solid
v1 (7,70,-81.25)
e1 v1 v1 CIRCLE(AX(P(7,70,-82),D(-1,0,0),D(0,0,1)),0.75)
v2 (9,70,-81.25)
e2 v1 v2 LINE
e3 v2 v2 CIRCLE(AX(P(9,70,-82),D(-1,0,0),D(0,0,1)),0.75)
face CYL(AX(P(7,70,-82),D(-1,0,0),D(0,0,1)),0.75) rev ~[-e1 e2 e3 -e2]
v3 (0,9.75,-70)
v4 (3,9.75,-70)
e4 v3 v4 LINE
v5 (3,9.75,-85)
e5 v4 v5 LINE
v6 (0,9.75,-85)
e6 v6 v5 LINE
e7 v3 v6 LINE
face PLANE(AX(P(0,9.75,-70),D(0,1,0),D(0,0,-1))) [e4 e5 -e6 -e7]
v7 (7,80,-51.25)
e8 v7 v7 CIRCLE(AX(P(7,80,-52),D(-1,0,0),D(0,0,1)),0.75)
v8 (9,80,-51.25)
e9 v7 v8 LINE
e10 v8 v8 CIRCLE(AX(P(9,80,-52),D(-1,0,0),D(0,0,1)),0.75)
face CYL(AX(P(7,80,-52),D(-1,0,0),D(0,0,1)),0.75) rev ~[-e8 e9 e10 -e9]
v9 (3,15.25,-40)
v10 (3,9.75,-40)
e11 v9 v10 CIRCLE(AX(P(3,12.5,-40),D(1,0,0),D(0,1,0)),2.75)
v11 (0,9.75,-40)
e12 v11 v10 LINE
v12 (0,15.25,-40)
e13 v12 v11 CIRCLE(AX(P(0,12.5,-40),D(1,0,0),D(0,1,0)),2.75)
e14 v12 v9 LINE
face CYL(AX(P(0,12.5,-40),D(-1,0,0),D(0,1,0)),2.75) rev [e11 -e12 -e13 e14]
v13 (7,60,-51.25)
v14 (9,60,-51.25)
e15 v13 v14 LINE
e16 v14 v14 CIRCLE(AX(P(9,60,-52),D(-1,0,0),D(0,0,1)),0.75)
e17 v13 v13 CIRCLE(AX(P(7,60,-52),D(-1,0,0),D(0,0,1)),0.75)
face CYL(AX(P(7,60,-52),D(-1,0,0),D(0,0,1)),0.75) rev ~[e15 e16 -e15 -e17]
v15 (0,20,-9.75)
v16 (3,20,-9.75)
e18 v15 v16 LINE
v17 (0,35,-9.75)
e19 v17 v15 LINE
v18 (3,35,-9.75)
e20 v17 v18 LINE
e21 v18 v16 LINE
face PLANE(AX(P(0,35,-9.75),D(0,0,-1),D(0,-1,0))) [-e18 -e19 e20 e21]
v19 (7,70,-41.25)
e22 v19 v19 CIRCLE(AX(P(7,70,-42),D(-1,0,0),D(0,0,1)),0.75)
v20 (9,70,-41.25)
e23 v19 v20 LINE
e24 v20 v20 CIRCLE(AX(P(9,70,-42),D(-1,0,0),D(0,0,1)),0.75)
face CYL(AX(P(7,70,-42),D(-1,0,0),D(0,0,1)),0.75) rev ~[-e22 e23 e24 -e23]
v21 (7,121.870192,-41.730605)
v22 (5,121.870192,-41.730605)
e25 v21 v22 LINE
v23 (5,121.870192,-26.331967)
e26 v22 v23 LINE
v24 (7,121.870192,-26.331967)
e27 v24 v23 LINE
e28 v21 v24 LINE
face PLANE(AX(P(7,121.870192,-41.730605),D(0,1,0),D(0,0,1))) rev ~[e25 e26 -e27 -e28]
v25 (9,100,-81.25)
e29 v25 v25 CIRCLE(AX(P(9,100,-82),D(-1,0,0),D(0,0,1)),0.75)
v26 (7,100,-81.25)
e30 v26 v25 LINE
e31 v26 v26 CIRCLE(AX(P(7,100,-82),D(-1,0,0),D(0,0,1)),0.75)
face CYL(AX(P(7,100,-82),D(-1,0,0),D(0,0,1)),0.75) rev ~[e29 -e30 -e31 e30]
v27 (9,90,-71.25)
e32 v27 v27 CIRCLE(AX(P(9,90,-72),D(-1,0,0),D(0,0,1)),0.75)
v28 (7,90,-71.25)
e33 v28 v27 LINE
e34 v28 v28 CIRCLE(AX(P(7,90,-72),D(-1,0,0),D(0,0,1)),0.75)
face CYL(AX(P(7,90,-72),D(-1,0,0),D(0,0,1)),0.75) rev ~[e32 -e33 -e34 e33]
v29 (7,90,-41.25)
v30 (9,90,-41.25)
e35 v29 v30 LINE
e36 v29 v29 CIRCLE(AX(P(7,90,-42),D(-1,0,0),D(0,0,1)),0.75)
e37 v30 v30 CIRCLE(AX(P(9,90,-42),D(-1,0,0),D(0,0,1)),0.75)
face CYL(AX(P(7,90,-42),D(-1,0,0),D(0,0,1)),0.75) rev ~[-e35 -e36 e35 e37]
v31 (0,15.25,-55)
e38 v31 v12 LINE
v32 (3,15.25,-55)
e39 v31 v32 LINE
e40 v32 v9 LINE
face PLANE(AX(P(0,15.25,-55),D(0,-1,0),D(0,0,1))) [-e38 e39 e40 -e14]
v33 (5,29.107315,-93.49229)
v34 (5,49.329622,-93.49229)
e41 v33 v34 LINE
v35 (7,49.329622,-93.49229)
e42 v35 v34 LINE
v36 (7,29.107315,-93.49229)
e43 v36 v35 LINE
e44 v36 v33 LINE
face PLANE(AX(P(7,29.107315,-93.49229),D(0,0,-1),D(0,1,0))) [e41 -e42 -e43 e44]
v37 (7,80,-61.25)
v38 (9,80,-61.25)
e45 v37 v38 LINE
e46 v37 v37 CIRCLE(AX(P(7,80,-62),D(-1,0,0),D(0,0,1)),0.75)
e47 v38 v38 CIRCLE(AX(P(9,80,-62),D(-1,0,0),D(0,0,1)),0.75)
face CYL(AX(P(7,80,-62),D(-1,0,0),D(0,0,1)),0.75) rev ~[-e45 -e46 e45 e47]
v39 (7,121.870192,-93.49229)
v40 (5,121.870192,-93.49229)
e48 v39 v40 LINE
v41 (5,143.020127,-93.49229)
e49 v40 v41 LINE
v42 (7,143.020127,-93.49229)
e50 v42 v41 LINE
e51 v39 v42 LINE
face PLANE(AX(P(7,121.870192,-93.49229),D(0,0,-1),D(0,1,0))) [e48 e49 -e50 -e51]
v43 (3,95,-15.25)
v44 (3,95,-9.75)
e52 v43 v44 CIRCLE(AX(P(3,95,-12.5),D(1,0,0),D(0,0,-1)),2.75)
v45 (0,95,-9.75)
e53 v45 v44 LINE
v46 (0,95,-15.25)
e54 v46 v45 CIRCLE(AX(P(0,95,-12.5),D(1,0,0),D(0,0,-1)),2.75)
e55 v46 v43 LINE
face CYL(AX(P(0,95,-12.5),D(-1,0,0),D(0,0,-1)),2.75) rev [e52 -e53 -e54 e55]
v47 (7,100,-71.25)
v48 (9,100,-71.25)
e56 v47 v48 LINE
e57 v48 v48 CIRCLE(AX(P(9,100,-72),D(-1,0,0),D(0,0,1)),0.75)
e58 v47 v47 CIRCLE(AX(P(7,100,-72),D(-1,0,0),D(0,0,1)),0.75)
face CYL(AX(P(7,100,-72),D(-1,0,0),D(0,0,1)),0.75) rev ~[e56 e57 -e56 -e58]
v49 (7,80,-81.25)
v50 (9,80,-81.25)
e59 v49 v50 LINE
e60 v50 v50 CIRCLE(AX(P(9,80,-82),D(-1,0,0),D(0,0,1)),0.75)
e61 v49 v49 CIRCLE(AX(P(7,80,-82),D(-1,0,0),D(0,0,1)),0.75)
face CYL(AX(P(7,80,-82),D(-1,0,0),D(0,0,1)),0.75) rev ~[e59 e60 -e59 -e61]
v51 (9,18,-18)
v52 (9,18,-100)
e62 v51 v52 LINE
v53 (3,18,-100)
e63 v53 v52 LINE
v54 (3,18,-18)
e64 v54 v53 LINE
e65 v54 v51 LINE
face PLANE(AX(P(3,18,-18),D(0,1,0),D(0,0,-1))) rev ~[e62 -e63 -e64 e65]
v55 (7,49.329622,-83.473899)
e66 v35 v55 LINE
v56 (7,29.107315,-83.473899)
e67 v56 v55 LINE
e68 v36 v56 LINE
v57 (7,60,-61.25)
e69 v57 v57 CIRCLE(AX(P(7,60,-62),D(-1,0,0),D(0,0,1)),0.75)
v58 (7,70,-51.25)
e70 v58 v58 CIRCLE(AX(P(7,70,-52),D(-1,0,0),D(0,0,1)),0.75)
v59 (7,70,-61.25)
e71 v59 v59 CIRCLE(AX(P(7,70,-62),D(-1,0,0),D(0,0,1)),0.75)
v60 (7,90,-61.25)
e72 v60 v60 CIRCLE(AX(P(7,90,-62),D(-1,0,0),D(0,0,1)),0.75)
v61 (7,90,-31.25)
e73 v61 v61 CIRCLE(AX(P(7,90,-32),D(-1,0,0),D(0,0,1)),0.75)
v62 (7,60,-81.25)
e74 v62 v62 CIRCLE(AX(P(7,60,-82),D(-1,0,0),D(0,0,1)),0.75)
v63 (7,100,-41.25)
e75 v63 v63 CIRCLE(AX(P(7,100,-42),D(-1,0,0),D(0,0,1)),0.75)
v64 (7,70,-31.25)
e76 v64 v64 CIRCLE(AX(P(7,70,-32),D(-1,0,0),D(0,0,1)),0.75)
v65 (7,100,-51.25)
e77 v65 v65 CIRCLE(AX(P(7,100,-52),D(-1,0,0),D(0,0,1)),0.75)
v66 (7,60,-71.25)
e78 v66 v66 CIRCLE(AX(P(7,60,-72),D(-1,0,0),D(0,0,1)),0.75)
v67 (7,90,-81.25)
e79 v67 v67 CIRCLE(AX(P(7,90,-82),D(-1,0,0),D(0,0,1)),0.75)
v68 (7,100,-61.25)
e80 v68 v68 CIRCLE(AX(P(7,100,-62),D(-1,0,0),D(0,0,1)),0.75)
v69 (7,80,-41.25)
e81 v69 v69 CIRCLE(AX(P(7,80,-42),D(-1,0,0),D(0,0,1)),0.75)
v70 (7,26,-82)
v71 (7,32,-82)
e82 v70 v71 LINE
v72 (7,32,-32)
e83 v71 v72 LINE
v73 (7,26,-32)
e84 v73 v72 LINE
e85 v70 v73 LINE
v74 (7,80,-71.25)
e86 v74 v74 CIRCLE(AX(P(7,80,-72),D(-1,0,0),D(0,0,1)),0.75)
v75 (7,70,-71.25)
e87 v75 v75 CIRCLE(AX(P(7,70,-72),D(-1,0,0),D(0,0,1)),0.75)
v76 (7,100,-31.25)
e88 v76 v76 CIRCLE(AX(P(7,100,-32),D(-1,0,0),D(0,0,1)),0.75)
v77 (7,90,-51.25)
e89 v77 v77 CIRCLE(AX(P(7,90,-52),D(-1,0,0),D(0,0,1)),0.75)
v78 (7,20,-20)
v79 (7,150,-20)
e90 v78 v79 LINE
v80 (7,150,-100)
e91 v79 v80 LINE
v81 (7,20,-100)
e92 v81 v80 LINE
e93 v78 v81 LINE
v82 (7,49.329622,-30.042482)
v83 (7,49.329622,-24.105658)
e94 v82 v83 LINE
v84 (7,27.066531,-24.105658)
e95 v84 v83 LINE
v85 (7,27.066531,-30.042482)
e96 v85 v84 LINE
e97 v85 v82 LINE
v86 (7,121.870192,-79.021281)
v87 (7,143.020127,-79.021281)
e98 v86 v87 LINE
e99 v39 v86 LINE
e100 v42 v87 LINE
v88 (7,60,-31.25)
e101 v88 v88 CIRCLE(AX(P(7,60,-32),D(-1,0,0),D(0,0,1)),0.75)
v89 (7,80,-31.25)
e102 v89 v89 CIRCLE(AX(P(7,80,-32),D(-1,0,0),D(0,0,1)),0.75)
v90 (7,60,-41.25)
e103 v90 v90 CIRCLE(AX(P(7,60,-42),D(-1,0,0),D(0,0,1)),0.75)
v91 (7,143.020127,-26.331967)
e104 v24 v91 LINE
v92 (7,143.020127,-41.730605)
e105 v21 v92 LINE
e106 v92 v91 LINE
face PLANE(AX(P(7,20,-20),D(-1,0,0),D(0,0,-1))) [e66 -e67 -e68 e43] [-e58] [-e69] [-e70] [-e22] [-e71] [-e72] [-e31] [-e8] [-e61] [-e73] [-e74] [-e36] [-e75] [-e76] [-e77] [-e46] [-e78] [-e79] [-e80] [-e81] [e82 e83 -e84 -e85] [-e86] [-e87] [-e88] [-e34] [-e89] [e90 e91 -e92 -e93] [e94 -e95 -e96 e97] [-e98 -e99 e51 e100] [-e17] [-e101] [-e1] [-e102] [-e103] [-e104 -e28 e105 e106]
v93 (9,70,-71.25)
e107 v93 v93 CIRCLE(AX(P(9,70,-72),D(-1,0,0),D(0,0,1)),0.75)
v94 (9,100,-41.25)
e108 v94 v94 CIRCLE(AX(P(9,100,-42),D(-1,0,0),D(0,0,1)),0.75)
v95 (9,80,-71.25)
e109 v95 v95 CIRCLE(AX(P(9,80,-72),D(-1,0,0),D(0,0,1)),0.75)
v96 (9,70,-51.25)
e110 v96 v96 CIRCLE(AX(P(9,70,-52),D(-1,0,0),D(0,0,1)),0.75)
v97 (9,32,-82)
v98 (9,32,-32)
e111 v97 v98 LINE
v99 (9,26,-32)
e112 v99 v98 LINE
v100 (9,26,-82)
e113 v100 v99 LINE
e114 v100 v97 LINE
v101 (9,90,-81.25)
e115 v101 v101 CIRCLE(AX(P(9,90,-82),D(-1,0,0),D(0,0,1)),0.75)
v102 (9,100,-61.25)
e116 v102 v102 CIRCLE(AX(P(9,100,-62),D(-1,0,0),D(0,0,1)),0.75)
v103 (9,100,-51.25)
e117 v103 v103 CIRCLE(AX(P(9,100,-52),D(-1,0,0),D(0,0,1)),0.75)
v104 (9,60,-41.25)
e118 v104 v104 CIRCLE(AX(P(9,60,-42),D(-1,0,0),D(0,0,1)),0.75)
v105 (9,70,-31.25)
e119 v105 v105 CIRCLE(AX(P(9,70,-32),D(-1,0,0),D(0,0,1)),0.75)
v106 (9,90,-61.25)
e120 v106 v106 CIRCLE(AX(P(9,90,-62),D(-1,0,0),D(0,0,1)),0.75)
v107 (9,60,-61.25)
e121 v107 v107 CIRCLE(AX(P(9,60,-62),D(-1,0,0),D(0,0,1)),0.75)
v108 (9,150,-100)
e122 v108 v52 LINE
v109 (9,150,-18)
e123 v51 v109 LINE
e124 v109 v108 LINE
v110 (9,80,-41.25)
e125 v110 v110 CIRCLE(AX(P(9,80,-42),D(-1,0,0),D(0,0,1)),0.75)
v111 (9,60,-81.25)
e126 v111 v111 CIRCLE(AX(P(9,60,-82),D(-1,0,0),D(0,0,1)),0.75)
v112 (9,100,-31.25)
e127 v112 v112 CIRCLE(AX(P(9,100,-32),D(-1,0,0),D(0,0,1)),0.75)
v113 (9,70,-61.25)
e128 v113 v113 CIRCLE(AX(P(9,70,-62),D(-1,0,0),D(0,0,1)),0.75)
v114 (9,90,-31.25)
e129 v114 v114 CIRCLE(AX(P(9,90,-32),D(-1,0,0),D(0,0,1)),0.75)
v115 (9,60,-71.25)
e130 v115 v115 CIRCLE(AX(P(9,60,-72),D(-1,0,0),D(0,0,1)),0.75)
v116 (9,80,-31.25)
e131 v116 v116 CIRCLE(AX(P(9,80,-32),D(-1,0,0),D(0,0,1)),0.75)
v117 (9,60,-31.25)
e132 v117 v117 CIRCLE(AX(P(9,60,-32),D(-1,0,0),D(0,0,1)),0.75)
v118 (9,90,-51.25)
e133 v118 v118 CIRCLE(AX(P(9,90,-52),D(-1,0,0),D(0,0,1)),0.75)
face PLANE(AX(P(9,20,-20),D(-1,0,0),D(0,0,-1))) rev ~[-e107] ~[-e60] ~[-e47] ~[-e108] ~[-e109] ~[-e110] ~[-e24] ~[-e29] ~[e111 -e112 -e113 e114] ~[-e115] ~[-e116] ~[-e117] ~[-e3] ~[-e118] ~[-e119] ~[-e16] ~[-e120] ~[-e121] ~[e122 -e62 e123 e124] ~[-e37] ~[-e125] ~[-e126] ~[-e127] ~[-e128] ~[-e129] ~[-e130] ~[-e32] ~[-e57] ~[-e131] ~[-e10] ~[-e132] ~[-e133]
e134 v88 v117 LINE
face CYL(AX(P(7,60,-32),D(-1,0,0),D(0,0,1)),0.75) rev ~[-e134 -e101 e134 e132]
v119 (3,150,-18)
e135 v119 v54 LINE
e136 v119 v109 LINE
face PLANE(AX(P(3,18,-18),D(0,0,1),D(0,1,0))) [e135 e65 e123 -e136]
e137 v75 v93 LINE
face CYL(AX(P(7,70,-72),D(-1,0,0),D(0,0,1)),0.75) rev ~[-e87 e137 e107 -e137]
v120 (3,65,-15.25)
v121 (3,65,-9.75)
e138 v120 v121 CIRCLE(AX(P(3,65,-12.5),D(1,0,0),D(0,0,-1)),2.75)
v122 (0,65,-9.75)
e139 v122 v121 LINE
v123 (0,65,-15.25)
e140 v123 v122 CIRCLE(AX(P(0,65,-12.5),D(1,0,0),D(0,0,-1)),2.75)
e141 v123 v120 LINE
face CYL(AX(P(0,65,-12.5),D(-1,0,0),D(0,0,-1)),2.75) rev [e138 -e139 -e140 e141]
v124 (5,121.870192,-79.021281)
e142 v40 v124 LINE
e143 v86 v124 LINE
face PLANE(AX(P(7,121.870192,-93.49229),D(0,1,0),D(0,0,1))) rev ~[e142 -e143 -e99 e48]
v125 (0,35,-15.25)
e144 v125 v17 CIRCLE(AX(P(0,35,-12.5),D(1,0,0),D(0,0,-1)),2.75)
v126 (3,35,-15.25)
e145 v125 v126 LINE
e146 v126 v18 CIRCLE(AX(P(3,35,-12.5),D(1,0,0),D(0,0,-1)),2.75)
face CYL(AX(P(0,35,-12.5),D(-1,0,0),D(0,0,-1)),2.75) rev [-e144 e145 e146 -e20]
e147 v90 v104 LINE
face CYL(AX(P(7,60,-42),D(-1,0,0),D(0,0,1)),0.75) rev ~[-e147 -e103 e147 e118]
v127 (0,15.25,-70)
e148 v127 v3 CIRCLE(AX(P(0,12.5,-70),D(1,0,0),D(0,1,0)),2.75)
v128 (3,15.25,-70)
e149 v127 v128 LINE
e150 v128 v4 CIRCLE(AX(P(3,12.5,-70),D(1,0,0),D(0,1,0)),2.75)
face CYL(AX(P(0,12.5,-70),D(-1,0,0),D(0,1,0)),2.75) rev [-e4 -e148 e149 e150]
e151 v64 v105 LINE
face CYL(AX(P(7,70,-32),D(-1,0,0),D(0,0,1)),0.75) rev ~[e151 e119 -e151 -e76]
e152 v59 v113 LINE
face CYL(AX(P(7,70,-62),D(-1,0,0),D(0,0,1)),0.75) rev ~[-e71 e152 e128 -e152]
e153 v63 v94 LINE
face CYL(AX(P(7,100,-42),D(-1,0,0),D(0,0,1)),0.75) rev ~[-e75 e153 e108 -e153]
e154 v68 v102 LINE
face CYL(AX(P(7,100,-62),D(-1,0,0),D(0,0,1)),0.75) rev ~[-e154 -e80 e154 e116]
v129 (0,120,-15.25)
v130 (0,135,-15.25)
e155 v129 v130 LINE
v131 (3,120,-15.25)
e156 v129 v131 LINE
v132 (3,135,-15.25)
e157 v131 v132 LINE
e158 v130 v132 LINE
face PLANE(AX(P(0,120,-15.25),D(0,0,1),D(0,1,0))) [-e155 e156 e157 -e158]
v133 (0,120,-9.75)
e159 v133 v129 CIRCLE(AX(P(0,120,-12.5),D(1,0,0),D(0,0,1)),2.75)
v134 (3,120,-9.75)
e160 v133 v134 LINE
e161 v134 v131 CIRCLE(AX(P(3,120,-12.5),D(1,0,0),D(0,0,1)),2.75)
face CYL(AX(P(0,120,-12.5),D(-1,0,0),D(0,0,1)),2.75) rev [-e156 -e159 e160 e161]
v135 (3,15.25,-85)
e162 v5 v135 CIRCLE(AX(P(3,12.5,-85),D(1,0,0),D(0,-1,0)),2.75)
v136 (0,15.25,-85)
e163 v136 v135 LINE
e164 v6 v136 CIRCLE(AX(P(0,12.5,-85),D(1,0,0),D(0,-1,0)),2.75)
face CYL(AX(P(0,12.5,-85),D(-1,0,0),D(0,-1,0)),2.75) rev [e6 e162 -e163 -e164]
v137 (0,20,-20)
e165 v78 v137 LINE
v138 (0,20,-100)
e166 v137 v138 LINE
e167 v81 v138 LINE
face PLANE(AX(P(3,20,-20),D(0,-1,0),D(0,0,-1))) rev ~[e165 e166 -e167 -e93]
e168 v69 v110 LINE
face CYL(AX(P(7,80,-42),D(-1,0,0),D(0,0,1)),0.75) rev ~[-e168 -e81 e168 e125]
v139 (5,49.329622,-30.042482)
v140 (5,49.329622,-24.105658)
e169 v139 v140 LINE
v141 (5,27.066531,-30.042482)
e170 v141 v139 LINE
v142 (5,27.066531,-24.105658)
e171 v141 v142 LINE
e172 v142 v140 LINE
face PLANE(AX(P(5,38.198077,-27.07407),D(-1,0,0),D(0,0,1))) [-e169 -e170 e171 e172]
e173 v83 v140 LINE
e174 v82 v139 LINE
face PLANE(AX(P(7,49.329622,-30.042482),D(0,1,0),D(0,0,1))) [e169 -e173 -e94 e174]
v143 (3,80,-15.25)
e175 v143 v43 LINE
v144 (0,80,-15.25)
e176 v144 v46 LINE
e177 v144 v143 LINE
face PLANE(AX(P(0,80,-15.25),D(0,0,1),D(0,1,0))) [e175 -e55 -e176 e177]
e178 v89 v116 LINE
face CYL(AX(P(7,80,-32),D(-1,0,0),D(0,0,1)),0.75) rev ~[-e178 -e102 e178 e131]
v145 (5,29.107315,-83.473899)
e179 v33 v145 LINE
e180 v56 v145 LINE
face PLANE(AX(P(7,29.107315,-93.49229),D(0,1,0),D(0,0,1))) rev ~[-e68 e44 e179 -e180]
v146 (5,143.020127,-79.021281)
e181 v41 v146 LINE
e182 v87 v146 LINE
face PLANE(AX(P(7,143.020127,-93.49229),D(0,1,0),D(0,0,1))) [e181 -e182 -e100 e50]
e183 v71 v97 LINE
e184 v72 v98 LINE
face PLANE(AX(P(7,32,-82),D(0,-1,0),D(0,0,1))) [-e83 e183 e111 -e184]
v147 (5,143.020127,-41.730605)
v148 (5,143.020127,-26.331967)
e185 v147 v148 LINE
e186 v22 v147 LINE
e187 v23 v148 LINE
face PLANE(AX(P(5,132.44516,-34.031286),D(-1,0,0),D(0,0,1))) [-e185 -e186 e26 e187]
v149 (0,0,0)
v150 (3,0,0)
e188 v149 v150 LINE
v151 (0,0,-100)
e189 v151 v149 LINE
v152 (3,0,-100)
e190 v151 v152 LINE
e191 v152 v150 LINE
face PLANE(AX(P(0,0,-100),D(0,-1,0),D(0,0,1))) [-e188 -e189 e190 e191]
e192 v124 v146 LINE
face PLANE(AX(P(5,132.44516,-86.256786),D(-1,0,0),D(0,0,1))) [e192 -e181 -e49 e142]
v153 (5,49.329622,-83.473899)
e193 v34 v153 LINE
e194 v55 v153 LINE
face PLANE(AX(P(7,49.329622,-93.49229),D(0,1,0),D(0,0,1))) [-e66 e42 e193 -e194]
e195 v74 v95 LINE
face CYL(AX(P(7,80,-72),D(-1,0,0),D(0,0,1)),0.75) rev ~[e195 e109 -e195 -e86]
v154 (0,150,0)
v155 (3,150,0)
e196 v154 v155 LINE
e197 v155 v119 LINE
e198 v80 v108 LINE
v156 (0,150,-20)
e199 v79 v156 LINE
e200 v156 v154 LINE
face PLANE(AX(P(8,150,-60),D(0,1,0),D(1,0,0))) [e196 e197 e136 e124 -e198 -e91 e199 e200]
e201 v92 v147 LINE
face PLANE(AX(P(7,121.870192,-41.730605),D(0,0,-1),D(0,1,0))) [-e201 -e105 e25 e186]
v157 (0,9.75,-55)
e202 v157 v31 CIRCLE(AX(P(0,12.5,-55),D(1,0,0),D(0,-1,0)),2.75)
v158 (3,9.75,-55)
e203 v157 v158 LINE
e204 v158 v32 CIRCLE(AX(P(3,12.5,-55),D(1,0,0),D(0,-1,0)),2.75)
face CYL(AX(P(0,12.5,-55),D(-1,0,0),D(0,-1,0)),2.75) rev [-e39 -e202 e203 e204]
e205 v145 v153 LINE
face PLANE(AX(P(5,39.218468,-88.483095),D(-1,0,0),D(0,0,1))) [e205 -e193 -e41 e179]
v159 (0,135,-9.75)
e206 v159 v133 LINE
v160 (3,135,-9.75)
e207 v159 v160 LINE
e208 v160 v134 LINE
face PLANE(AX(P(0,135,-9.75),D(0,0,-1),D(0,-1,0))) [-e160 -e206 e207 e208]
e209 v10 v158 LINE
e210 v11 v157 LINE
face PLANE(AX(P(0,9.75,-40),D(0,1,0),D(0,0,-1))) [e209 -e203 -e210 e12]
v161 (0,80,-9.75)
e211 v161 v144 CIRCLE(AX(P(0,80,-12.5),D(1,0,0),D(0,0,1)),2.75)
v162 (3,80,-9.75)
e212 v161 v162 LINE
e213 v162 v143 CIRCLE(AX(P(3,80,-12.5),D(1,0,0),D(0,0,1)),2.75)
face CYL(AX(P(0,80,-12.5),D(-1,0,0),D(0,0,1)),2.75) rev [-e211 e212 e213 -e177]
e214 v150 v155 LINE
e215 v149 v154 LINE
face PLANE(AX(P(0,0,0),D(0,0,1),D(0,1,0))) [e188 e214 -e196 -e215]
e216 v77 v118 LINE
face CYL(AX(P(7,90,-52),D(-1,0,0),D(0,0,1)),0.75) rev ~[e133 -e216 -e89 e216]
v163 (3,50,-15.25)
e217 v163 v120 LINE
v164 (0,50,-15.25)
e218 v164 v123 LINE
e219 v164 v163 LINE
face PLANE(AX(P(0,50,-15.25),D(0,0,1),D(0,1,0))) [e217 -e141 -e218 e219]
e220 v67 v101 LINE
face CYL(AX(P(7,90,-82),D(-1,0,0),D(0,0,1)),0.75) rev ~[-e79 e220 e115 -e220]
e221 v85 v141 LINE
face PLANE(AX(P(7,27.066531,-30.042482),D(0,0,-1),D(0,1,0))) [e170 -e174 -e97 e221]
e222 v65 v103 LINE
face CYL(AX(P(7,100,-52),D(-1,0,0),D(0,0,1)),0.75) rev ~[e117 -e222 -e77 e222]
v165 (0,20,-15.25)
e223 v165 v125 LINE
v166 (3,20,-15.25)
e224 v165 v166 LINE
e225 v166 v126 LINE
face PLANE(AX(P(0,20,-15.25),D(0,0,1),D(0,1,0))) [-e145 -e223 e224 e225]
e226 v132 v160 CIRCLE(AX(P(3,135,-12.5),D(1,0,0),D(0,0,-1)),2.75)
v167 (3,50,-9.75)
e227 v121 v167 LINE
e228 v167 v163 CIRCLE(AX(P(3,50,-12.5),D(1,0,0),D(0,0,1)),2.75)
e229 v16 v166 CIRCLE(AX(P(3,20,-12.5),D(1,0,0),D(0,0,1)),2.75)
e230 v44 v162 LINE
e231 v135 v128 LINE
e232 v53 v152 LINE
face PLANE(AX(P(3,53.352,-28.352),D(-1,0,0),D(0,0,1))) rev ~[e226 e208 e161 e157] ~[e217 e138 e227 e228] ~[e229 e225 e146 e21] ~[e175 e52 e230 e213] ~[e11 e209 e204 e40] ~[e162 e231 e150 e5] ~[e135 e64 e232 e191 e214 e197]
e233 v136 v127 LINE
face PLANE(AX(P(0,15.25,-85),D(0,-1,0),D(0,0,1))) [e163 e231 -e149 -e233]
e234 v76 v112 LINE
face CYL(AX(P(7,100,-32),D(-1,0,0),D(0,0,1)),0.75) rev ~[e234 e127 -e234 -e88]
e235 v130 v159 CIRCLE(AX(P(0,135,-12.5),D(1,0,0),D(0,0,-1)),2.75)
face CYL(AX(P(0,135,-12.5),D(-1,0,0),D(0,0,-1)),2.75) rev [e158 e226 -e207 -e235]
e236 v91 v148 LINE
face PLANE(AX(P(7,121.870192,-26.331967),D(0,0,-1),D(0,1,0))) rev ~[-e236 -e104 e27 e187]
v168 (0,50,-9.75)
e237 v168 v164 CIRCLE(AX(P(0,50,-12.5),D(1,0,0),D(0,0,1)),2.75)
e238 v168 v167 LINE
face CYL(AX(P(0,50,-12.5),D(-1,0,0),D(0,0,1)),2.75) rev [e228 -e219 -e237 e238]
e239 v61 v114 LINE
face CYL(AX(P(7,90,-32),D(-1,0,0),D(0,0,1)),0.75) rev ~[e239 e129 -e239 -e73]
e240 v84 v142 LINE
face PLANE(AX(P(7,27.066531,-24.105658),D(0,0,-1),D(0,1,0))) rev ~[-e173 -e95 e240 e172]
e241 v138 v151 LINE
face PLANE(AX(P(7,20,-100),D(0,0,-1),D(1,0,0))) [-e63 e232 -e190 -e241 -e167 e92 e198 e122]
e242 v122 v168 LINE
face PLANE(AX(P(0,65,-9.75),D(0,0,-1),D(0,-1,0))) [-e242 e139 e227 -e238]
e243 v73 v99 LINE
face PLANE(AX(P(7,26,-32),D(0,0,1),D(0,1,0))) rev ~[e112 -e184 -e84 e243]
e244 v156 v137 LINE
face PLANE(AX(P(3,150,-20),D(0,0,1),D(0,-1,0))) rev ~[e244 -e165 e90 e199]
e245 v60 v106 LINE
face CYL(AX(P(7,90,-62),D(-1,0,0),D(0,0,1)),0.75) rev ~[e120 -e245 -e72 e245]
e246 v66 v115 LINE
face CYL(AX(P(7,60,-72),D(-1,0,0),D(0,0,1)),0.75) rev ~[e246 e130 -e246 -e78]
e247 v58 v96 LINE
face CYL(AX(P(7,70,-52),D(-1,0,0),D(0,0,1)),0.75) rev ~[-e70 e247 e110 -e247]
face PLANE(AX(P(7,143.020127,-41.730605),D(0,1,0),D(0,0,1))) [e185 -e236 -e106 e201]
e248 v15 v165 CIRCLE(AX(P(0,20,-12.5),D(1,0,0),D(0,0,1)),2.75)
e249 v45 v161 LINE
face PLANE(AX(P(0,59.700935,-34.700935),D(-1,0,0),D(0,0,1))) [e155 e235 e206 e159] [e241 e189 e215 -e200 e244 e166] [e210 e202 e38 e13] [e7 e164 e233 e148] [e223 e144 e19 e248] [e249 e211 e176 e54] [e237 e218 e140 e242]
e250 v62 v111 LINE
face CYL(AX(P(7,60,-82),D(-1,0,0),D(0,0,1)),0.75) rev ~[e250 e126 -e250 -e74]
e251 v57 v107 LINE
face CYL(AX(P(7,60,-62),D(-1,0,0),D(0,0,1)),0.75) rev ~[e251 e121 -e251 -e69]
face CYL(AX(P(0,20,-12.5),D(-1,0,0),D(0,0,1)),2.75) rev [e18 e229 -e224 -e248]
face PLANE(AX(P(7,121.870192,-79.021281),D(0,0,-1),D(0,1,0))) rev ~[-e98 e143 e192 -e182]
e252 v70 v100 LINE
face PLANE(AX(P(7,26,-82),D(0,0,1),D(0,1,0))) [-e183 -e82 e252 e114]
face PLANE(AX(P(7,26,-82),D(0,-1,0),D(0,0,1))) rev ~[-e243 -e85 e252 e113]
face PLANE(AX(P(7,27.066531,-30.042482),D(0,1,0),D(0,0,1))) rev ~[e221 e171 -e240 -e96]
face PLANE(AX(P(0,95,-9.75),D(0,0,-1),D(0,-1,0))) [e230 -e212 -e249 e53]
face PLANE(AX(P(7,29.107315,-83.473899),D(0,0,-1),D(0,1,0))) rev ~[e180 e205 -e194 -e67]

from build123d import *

# Parameters (mm, degrees)
EXTRUDE_1_DEPTH             = 3
EXTRUDE_2_DEPTH             = 6
EXTRUDE_3_DEPTH             = 3
SKETCH_5_W                  = 2
SKETCH_5_H                  = 80
EXTRUDE_4_DEPTH             = 130
SKETCH_6_W                  = 50
SKETCH_6_H                  = 6
CUT_EXTRUDE_1_DEPTH         = 130
SKETCH_7_W                  = 14.471008782
SKETCH_7_H                  = 21.149935912
SKETCH_7_W_2                = 15.39863755
SKETCH_7_W_3                = 10.018390695
SKETCH_7_H_2                = 20.222307144
SKETCH_7_W_4                = 5.936824115
SKETCH_7_H_3                = 22.263090434
EXTRUDE_5_DEPTH             = 2
SKETCH_8_R                  = 0.75
CUT_EXTRUDE_2_DEPTH         = 2
PATTERN_LINEAR_1_COUNT      = 5
PATTERN_LINEAR_1_PITCH      = 10
PATTERN_LINEAR_1_COUNT_DIR2 = 6
PATTERN_LINEAR_1_PITCH_DIR2 = 10


with BuildPart() as part:
    # 草图1 → 凸台-拉伸1 (new body)
    with BuildSketch(Plane(origin=(0, 0, 0), x_dir=(0, 0, -1), z_dir=(1, 0, 0))):
        Polygon((0, 0), (0, 150), (18, 150), (18, 18), (100, 18), (100, 0), align=None)
        with BuildLine():
            ThreePointArc((85, 9.75), (87.75, 12.5), (85, 15.25))
            Line((85, 15.25), (70, 15.25))
            ThreePointArc((70, 15.25), (67.25, 12.5), (70, 9.75))
            Line((70, 9.75), (85, 9.75))
        make_face(mode=Mode.SUBTRACT)
        with BuildLine():
            ThreePointArc((55, 9.75), (57.75, 12.5), (55, 15.25))
            Line((55, 15.25), (40, 15.25))
            ThreePointArc((40, 15.25), (37.25, 12.5), (40, 9.75))
            Line((40, 9.75), (55, 9.75))
        make_face(mode=Mode.SUBTRACT)
        with BuildLine():
            ThreePointArc((15.25, 135), (12.5, 137.75), (9.75, 135))
            Line((9.75, 135), (9.75, 120))
            ThreePointArc((9.75, 120), (12.5, 117.25), (15.25, 120))
            Line((15.25, 120), (15.25, 135))
        make_face(mode=Mode.SUBTRACT)
        with BuildLine():
            ThreePointArc((15.25, 95), (12.5, 97.75), (9.75, 95))
            Line((9.75, 95), (9.75, 80))
            ThreePointArc((9.75, 80), (12.5, 77.25), (15.25, 80))
            Line((15.25, 80), (15.25, 95))
        make_face(mode=Mode.SUBTRACT)
        with BuildLine():
            ThreePointArc((15.25, 65), (12.5, 67.75), (9.75, 65))
            Line((9.75, 65), (9.75, 50))
            ThreePointArc((9.75, 50), (12.5, 47.25), (15.25, 50))
            Line((15.25, 50), (15.25, 65))
        make_face(mode=Mode.SUBTRACT)
        with BuildLine():
            ThreePointArc((15.25, 35), (12.5, 37.75), (9.75, 35))
            Line((9.75, 35), (9.75, 20))
            ThreePointArc((9.75, 20), (12.5, 17.25), (15.25, 20))
            Line((15.25, 20), (15.25, 35))
        make_face(mode=Mode.SUBTRACT)
    extrude(amount=EXTRUDE_1_DEPTH)



with BuildPart() as body_2:
    # 草图2 → 凸台-拉伸2 (new body)
    with BuildSketch(Plane(origin=(3, 0, 0), x_dir=(0, 0, -1), z_dir=(1, 0, 0))):
        Polygon((18, 150), (20, 150), (20, 20), (100, 20), (100, 18), (20, 18), (18, 18), align=None)
    extrude(amount=EXTRUDE_2_DEPTH)


with BuildPart() as part_1:
    add(part.part)

    add(body_2.part)  # 凸台-拉伸3 merges body 2
    # 草图4 → 凸台-拉伸3 (add)
    with BuildSketch(Plane.ZY.offset(-3)):
        Polygon((-18, 18), (-18, 150), (-20, 150), (-20, 20), (-100, 20), (-100, 18), align=None)
    extrude(amount=EXTRUDE_3_DEPTH)

    # 草图5 → 凸台-拉伸4 (add)
    with BuildSketch(Plane(origin=(0, 20, 0), x_dir=(1, 0, 0), z_dir=(0, 1, 0))):
        with Locations((8, 60)):
            Rectangle(SKETCH_5_W, SKETCH_5_H)
    extrude(amount=EXTRUDE_4_DEPTH)

    # 草图6 → 切除-拉伸1 (cut)
    with BuildSketch(Plane.ZY.offset(-7)):
        with Locations((-57, 29)):
            Rectangle(SKETCH_6_W, SKETCH_6_H)
    extrude(amount=-CUT_EXTRUDE_1_DEPTH, mode=Mode.SUBTRACT)

    # 草图7 → 凸台-拉伸5 (add)
    with BuildSketch(Plane.ZY.offset(-7)):
        with Locations((-86.256785513, 132.445159505)):
            Rectangle(SKETCH_7_W, SKETCH_7_H)
        with Locations((-34.031285871, 132.445159505)):
            Rectangle(SKETCH_7_W_2, SKETCH_7_H)
        with Locations((-88.483094557, 39.218468314)):
            Rectangle(SKETCH_7_W_3, SKETCH_7_H_2)
        with Locations((-27.074070111, 38.198076669)):
            Rectangle(SKETCH_7_W_4, SKETCH_7_H_3)
    extrude(amount=EXTRUDE_5_DEPTH)

    # 草图8 → 切除-拉伸2 (cut)
    with BuildSketch(Plane.ZY.offset(-7)):
        with Locations((-82, 100)):
            Circle(SKETCH_8_R)
    cut_extrude_2 = extrude(amount=-CUT_EXTRUDE_2_DEPTH, mode=Mode.SUBTRACT)

    # 阵列(线性)1: Cut-Extrude 2 5 × 6
    with Locations(*[(0, -i * PATTERN_LINEAR_1_PITCH, j * PATTERN_LINEAR_1_PITCH_DIR2) for i in range(PATTERN_LINEAR_1_COUNT) for j in range(PATTERN_LINEAR_1_COUNT_DIR2) if (i, j) != (0, 0)]):
        add(cut_extrude_2, mode=Mode.SUBTRACT)


solid = part_1.part
